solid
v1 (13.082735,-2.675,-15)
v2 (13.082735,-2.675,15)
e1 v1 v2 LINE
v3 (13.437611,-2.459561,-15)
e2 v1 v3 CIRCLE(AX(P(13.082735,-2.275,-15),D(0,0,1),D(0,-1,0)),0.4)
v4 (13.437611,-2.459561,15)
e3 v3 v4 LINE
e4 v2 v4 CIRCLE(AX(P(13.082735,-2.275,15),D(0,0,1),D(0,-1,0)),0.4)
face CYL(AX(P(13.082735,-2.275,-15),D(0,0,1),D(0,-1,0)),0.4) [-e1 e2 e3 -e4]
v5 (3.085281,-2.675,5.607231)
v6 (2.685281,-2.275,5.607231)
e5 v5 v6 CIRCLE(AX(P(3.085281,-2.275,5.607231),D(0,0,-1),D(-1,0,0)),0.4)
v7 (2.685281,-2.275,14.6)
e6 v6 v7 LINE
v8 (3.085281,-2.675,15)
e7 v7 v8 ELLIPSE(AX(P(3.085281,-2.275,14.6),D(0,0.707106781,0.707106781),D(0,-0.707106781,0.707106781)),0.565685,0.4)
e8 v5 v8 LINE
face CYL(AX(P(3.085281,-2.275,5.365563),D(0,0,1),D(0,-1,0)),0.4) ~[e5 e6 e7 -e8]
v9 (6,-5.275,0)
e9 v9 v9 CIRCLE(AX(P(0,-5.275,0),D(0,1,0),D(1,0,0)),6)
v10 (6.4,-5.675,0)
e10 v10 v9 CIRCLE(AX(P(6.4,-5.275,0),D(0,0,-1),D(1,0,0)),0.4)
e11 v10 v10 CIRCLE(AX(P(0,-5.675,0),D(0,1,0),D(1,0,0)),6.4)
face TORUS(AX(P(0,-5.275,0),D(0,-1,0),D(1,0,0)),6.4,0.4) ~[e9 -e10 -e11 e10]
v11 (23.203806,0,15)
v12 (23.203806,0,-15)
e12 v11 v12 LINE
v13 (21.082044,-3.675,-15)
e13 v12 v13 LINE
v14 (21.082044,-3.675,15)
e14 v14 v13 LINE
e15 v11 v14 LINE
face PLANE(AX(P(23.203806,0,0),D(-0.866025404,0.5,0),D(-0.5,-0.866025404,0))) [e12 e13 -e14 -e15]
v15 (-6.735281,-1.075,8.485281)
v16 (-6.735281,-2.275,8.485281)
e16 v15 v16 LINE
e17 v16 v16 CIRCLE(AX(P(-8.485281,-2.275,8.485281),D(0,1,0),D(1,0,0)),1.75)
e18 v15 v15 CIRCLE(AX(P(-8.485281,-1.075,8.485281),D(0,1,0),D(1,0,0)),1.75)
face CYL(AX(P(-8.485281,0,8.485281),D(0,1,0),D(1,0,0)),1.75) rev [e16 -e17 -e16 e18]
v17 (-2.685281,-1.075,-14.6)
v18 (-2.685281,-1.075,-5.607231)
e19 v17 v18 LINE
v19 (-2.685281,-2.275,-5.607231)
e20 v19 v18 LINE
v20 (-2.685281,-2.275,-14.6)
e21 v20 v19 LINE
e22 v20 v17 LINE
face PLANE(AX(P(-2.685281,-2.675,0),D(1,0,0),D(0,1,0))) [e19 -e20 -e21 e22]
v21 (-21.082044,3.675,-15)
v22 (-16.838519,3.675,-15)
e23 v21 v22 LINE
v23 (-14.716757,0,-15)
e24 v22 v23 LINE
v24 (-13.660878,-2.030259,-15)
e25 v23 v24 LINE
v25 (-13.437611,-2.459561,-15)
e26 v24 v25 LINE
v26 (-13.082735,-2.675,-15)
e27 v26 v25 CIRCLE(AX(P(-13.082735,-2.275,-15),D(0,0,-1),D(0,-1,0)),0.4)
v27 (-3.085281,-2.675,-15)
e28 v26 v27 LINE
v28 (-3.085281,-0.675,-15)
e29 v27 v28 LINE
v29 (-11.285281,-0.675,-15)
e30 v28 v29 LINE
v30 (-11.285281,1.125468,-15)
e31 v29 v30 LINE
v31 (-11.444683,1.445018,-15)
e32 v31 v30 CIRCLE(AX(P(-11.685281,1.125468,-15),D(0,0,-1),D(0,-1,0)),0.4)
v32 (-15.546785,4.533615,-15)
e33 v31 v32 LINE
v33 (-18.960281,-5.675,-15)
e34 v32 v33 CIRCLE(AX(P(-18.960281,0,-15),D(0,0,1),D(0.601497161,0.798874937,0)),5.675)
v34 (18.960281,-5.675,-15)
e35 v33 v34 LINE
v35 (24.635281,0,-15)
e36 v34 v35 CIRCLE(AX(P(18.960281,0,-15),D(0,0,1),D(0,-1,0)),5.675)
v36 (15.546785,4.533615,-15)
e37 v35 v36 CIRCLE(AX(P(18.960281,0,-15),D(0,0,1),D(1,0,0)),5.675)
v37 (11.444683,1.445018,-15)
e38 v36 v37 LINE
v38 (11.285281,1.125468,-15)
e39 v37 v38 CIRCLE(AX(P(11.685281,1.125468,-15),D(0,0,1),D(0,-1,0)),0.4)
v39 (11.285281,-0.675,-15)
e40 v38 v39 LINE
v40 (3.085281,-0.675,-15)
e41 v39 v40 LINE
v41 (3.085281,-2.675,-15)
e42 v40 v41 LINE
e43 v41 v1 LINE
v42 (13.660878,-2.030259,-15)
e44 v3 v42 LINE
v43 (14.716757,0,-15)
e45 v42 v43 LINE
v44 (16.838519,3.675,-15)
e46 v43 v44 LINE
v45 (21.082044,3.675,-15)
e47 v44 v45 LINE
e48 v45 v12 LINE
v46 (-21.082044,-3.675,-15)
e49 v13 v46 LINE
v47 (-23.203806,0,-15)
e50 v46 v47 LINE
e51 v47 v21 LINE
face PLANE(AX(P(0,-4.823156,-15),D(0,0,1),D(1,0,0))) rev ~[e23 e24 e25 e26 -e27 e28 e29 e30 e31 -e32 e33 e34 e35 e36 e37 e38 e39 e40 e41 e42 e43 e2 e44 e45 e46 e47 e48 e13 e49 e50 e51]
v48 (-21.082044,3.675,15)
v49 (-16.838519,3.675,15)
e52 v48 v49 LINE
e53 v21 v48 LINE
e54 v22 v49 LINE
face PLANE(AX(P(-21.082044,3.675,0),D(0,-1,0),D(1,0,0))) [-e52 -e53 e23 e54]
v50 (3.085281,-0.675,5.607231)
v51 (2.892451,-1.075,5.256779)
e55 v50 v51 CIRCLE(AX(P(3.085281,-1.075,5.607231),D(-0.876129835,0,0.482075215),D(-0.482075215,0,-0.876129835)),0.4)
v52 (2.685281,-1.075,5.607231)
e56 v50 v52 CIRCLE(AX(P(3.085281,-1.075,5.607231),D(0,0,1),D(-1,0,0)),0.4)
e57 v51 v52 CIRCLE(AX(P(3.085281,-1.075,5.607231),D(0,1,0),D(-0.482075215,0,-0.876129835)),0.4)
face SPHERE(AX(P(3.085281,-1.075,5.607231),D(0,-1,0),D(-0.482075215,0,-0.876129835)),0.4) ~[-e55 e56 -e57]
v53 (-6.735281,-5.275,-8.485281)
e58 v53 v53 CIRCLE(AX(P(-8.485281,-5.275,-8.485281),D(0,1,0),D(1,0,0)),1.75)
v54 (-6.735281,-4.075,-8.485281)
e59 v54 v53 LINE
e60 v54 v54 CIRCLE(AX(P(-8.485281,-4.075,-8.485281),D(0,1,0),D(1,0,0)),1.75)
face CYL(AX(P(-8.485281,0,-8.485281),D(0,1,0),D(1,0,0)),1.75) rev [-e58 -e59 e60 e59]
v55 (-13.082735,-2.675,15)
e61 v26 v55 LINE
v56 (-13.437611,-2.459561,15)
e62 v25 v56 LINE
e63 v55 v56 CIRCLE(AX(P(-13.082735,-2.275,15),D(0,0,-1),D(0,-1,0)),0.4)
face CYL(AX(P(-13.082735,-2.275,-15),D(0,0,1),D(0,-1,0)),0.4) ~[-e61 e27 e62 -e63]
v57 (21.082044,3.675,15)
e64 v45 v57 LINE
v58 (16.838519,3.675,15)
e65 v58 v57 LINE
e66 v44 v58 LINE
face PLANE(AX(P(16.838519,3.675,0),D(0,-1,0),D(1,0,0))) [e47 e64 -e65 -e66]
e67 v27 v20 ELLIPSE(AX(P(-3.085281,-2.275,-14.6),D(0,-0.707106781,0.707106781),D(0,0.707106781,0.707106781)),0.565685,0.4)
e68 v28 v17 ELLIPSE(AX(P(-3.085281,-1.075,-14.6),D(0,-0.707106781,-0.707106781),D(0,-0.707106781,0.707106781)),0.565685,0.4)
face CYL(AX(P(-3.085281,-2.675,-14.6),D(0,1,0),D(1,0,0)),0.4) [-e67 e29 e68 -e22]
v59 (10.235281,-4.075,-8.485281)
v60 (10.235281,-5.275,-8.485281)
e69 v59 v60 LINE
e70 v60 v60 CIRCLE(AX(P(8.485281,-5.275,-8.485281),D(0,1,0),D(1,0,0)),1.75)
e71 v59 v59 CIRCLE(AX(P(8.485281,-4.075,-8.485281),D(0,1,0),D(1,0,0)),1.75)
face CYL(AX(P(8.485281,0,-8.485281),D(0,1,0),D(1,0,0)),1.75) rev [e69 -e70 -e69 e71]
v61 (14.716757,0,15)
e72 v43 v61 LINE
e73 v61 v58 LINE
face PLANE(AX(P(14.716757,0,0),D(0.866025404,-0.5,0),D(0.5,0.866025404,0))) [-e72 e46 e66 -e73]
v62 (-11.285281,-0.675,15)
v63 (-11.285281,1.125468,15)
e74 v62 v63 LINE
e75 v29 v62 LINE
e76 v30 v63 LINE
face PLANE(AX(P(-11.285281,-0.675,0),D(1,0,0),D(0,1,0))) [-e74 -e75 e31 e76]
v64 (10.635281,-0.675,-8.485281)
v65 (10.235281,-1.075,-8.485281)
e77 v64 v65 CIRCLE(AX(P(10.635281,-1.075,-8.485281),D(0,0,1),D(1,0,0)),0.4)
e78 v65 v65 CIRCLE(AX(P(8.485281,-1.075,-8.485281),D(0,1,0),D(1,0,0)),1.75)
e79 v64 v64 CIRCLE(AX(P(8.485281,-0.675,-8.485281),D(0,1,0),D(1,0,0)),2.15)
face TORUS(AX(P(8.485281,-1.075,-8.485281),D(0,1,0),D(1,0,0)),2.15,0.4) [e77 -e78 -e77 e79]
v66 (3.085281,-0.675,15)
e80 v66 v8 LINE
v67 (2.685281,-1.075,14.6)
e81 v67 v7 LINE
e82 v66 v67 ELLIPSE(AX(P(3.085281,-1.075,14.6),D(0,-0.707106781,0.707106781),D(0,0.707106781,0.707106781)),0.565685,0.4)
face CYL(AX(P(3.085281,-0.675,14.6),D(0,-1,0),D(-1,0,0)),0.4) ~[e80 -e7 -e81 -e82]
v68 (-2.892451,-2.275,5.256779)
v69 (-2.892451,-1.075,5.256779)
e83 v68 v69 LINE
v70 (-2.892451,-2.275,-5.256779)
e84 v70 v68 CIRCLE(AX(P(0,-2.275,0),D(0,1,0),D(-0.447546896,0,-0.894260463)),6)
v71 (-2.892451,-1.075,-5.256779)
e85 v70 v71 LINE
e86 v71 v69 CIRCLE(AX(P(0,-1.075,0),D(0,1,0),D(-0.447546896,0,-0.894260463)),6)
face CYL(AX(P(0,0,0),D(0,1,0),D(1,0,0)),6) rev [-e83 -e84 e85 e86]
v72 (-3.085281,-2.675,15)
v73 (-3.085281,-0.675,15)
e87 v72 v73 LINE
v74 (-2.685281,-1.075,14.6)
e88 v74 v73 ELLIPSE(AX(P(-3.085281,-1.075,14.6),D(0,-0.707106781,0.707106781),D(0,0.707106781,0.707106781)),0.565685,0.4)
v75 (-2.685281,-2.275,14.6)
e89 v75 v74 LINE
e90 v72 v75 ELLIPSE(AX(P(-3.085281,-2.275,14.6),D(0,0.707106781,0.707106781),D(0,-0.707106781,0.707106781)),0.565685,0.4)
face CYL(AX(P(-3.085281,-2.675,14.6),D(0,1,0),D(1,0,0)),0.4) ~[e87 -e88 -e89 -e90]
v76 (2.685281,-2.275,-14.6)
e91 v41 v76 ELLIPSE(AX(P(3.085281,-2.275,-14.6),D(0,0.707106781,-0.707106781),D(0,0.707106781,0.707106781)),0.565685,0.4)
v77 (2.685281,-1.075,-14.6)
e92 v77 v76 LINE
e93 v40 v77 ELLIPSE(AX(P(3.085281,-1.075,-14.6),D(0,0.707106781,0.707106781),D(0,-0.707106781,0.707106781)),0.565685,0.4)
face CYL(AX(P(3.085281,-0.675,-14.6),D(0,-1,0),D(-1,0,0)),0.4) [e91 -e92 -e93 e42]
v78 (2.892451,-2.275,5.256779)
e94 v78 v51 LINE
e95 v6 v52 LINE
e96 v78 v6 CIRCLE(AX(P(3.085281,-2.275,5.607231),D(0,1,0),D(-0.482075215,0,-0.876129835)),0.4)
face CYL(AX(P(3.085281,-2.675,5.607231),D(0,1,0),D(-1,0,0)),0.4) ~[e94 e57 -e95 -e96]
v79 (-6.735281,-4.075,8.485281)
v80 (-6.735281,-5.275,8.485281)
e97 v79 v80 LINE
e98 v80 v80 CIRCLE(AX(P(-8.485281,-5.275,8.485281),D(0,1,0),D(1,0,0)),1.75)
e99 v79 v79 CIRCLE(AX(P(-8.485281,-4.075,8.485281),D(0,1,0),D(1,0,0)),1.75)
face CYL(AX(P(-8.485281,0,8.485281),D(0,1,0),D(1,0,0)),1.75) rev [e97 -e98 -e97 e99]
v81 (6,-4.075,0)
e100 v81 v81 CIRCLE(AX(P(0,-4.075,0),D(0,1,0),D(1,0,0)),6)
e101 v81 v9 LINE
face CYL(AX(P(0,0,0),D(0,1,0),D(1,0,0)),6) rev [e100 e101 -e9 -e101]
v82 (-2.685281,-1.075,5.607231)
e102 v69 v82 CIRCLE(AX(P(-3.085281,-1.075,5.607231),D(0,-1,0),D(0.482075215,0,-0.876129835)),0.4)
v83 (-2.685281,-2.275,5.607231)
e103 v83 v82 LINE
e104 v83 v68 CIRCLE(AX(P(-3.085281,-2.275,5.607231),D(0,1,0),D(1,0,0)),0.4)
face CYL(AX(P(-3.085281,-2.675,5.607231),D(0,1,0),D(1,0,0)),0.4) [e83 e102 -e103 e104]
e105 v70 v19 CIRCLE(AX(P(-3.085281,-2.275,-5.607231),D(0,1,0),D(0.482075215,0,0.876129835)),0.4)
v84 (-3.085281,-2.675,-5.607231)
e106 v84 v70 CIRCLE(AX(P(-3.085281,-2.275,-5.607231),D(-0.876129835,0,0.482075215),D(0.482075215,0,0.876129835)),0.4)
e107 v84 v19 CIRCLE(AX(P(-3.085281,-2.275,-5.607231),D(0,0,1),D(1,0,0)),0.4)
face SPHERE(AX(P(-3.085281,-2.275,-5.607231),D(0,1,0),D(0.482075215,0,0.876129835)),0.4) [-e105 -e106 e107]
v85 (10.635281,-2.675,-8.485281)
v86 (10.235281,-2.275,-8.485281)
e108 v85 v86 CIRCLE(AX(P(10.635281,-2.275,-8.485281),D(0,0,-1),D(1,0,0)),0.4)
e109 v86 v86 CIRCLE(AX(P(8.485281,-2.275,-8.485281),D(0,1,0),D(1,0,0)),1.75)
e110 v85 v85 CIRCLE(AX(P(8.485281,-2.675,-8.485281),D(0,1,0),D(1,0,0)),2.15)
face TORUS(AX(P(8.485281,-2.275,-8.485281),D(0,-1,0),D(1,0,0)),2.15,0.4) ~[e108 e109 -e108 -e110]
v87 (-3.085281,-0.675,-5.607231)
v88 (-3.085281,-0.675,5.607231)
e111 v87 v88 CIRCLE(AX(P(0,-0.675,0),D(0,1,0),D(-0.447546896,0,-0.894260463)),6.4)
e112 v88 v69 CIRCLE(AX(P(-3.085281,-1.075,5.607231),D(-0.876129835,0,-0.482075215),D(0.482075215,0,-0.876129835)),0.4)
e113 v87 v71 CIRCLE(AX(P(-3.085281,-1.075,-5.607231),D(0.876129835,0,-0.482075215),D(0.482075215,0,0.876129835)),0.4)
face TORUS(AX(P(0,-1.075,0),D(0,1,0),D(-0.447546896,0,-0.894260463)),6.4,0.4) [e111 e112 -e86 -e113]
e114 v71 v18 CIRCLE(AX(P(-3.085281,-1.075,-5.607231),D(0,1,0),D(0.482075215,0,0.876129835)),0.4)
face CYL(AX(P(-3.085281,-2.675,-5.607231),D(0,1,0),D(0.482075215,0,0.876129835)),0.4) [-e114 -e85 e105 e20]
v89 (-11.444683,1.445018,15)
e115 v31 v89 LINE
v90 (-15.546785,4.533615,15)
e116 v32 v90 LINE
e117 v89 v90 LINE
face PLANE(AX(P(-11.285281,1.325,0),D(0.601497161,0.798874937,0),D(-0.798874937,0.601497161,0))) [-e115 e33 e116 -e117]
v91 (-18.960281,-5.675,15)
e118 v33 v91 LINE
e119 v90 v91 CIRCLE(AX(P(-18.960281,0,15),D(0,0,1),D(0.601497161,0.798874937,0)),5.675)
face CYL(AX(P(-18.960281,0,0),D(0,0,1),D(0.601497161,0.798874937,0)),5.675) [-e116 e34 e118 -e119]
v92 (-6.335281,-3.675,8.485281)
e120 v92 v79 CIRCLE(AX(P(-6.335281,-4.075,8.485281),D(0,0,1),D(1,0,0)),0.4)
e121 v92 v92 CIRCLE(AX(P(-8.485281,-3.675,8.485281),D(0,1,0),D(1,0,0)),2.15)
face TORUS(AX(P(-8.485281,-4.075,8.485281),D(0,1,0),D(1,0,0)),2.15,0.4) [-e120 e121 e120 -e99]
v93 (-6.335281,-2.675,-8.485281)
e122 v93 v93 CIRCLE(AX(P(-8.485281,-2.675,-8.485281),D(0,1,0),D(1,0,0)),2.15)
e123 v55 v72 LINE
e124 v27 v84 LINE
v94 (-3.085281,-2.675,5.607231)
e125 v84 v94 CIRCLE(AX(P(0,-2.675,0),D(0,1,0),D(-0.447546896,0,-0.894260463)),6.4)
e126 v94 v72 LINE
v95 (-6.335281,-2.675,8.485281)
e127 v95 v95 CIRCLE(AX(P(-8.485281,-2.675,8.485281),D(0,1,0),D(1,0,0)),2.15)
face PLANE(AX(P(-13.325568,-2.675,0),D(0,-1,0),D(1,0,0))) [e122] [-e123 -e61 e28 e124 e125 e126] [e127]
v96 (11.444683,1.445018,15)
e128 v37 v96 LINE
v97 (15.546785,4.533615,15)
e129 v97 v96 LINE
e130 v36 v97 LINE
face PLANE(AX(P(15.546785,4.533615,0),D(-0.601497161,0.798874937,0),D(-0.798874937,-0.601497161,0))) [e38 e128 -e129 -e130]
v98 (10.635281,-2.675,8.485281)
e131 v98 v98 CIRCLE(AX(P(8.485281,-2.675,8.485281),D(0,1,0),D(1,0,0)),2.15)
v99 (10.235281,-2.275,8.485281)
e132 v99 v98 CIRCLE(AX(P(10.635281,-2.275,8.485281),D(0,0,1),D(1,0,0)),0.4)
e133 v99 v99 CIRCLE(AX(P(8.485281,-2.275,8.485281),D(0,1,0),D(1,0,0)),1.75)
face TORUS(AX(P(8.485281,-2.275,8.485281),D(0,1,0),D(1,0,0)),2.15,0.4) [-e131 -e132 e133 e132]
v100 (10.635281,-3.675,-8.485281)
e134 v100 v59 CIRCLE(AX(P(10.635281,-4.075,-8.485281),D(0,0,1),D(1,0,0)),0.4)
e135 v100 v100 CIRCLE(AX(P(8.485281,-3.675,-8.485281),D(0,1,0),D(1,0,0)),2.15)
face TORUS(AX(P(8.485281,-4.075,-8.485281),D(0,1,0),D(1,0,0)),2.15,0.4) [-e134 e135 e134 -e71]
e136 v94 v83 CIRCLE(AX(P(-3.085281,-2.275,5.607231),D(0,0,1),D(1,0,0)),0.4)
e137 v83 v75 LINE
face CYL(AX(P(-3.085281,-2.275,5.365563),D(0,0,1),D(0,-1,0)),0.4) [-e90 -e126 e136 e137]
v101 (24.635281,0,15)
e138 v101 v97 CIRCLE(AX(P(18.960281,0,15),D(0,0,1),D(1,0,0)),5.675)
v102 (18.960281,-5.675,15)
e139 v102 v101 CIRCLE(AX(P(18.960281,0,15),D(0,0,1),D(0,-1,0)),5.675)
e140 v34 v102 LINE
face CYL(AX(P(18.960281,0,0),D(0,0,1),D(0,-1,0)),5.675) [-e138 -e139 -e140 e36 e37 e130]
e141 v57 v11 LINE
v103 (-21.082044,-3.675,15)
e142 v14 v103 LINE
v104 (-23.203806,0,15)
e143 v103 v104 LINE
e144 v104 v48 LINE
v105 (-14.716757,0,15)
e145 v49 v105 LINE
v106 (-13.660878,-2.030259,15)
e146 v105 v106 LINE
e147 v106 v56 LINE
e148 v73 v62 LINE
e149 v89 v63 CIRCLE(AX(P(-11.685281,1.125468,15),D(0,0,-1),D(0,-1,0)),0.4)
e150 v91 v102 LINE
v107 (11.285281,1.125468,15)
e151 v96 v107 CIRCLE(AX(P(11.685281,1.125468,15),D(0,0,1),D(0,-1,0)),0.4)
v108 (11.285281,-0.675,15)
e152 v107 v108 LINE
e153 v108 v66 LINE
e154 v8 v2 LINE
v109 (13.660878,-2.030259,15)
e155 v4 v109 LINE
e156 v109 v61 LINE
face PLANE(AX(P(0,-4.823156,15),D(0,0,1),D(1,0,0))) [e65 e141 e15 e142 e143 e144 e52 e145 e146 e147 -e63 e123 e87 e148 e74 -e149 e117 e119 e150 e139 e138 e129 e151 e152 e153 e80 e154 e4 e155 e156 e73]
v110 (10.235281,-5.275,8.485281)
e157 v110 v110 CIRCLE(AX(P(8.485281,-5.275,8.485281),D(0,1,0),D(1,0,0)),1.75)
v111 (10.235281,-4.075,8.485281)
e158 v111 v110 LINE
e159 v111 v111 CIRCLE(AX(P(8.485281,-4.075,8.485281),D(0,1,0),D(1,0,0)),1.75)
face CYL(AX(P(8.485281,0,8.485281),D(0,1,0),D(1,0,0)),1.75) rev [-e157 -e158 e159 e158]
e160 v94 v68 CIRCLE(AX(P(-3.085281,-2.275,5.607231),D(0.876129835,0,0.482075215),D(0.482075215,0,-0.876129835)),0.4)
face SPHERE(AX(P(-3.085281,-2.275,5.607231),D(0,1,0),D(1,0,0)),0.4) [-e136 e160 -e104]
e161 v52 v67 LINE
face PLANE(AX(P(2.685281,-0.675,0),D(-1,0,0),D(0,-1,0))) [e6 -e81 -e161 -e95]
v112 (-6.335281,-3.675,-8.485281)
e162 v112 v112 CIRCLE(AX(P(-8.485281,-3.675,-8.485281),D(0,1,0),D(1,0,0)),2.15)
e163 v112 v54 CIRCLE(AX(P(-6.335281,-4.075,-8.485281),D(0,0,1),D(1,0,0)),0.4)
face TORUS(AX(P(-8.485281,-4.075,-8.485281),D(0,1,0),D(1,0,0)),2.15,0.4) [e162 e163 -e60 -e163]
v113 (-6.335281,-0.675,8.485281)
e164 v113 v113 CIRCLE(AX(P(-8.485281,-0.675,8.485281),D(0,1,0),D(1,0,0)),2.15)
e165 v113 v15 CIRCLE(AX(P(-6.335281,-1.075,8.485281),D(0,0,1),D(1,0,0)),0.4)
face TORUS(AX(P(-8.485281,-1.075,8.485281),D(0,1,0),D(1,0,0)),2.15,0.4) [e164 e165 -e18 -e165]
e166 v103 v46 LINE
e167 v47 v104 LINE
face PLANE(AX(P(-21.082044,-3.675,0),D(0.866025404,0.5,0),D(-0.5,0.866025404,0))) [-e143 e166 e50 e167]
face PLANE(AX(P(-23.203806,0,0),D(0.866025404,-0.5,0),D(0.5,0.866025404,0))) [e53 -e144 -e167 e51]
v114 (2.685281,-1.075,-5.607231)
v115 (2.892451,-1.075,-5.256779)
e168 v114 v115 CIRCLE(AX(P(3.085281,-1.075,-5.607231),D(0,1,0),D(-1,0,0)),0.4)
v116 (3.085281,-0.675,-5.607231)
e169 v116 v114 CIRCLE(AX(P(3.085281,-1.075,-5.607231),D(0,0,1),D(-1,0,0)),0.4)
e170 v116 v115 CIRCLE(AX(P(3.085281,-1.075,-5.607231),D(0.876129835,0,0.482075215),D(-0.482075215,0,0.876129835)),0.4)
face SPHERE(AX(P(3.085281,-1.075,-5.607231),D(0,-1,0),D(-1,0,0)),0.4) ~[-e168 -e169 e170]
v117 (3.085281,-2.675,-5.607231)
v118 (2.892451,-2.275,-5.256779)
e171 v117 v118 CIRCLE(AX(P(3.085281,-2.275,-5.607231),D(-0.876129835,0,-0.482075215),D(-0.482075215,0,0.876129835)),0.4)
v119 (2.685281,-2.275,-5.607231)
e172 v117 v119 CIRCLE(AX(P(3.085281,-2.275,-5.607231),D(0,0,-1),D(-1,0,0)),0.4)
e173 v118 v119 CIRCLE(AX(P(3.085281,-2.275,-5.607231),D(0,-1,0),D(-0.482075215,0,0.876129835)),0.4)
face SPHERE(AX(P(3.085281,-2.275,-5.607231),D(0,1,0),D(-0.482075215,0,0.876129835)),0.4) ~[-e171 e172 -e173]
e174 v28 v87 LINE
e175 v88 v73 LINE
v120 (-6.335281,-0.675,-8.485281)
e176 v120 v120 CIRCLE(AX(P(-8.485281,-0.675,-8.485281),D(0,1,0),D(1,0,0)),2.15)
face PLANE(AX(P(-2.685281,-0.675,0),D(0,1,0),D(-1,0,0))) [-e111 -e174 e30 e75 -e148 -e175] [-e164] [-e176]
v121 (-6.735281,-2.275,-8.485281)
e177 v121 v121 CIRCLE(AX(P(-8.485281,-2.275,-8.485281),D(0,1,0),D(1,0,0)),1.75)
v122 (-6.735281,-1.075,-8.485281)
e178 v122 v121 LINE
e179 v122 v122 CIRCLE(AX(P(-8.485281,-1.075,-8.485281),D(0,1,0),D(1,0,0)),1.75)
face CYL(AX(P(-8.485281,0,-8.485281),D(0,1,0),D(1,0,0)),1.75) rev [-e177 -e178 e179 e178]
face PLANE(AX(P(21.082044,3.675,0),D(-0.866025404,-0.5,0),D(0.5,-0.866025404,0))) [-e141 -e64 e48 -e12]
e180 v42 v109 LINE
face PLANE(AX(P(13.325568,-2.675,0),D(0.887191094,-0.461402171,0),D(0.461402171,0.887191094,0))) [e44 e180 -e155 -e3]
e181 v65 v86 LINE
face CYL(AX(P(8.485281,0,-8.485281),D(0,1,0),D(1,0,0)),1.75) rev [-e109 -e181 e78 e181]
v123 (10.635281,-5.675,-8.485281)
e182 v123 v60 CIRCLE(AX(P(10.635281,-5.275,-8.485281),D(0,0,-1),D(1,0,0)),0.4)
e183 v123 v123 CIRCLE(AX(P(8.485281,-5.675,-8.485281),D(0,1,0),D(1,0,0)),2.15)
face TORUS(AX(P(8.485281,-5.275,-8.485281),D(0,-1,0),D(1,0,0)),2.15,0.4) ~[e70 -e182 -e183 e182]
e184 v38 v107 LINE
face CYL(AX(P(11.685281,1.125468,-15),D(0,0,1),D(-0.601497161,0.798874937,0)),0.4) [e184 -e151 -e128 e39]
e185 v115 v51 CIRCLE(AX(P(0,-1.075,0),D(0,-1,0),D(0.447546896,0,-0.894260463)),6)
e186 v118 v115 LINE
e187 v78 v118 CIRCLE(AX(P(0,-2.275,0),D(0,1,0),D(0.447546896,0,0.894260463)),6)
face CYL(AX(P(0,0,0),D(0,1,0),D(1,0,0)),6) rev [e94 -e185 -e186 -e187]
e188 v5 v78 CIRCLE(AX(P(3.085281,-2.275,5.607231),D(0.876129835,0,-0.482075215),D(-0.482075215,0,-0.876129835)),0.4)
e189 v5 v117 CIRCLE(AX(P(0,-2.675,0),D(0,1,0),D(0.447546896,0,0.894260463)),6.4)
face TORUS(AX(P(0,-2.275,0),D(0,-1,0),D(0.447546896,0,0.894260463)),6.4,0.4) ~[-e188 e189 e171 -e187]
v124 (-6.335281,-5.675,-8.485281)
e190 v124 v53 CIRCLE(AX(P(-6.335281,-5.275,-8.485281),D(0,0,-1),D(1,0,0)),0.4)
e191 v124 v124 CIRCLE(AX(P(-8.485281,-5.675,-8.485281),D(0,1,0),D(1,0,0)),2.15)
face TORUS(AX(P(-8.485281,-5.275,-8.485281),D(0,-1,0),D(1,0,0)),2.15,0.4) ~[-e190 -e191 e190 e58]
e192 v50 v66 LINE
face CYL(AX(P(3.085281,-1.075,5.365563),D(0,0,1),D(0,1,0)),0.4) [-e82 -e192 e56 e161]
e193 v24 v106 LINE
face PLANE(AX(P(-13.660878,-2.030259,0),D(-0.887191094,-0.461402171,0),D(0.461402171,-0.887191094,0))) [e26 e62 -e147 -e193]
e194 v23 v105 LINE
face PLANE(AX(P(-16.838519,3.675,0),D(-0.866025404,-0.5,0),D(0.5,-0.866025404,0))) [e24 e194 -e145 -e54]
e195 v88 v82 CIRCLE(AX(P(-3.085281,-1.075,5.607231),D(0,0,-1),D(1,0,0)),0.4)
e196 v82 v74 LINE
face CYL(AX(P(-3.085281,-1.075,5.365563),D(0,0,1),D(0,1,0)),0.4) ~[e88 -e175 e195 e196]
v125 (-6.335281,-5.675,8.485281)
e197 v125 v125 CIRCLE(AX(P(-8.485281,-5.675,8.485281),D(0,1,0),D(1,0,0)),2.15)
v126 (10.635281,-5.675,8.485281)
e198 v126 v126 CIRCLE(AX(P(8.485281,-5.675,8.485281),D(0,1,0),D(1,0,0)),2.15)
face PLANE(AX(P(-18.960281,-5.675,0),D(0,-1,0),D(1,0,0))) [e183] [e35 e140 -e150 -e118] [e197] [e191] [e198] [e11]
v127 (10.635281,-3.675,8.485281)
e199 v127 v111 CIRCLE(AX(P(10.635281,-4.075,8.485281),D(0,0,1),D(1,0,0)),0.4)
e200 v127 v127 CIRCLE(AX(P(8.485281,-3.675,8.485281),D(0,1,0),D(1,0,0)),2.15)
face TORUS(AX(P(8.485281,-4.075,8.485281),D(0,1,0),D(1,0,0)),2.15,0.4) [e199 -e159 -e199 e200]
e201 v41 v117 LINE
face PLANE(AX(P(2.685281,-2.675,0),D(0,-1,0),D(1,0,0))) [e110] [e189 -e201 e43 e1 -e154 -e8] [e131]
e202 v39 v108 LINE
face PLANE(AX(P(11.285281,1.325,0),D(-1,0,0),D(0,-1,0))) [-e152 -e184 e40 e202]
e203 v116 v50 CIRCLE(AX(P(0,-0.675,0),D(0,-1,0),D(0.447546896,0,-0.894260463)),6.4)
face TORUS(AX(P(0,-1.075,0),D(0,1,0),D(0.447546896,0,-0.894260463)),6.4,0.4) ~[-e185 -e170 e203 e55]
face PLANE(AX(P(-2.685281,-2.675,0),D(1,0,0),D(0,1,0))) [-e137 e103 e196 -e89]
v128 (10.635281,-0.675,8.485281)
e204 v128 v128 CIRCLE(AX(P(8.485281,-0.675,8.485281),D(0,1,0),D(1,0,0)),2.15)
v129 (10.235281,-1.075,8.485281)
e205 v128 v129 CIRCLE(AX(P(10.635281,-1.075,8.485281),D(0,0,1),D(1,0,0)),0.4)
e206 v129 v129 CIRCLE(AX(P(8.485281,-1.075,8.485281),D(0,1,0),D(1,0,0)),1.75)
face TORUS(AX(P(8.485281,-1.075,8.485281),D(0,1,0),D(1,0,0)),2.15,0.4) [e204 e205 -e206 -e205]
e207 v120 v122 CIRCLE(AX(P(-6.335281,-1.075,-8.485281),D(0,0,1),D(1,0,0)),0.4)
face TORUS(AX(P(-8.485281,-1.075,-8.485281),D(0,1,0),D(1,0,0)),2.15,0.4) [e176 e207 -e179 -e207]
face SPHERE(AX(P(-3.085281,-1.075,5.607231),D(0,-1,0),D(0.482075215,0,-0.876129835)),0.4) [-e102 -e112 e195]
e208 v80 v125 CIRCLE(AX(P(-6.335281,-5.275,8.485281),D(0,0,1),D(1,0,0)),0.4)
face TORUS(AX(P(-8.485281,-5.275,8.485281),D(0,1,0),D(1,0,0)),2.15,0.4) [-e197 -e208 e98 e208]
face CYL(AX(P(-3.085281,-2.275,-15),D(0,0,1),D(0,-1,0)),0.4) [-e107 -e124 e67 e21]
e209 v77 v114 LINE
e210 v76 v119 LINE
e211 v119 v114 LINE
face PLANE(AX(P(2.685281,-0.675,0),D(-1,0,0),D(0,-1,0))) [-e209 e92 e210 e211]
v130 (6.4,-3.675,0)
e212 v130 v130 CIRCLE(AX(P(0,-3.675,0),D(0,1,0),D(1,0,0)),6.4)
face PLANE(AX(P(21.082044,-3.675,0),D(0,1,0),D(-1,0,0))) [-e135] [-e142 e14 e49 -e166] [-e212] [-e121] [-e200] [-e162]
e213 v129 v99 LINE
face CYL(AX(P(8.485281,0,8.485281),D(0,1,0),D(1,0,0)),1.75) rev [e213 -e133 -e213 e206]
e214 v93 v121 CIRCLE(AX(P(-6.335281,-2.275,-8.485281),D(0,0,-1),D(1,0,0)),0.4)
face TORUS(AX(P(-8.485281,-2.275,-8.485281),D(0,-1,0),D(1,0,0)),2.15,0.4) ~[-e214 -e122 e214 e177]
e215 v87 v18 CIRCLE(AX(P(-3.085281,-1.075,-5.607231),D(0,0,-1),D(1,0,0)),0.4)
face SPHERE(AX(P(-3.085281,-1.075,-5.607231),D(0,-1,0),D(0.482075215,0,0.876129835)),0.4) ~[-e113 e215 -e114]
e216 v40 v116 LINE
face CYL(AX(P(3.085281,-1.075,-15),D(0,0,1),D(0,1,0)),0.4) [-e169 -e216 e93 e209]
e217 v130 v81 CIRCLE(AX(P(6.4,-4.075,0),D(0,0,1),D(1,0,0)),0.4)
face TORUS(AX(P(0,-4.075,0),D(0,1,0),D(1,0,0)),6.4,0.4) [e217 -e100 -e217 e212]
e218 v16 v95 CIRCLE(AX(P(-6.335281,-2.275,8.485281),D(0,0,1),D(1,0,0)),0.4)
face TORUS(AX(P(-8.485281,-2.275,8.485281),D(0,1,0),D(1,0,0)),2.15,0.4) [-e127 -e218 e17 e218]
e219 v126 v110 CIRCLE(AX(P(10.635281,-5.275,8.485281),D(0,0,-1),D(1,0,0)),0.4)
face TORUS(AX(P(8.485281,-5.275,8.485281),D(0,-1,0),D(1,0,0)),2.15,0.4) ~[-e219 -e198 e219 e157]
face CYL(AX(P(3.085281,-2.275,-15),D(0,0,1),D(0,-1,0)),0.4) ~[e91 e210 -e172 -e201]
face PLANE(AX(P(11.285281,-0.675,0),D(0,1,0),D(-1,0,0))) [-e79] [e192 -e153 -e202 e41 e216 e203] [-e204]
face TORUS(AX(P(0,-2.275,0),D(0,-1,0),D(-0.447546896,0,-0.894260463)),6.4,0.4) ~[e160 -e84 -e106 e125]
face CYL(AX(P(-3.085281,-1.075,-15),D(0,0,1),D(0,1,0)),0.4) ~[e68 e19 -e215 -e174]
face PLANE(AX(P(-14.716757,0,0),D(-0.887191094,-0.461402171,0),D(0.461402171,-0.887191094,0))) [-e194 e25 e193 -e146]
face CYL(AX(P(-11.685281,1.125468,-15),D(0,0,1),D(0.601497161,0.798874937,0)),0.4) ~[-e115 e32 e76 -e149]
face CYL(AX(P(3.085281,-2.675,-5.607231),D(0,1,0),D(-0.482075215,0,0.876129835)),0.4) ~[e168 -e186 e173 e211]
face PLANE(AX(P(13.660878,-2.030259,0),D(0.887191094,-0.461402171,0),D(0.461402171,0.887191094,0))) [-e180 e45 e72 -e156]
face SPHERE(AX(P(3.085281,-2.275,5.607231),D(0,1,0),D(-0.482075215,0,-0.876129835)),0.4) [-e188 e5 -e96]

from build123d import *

# Parameters (mm, degrees)
F2_DEPTH = 15
F0_R     = 1.75
F0_R_2   = 6
F3_DEPTH = 5.676
F4_R     = 0.4


with BuildPart() as f2:
    # F1 (on Top) → F2 (new body, symmetric)
    with BuildSketch(Plane.XY):
        with BuildLine():
            Line((14.6359317122, -3.675), (-14.6359317122, -3.675))
            ThreePointArc((-14.6359317122, -3.675), (-16.5780555243, -5.1507887745), (-18.9602813742, -5.675))
            Line((-18.9602813742, -5.675), (18.9602813742, -5.675))
            ThreePointArc((18.9602813742, -5.675), (16.5780555243, -5.1507887745), (14.6359317122, -3.675))
        make_face()
        with BuildLine():
            Line((-14.6359317122, -3.675), (-16.838519135, -3.675))
            Line((-16.838519135, -3.675), (-21.0820436135, -3.675))
            Line((-21.0820436135, -3.675), (-23.2038058528, 0))
            Line((-23.2038058528, 0), (-21.0820436135, 3.675))
            Line((-21.0820436135, 3.675), (-16.838519135, 3.675))
            Line((-16.838519135, 3.675), (-14.7167568957, 0))
            Line((-14.7167568957, 0), (-13.66087836, -2.0302592673))
            ThreePointArc((-13.66087836, -2.0302592673), (-13.4513876797, -1.3629802869), (-13.3255675394, -0.675))
            ThreePointArc((-13.3255675394, -0.675), (-13.2953618685, -0.3381005675), (-13.2852813742, 0))
            ThreePointArc((-13.2852813742, 0), (-13.8820328084, 2.5331830773), (-15.5467849877, 4.5336152703))
            ThreePointArc((-15.5467849877, 4.5336152703), (-24.3423763037, 1.7996330655), (-18.9602813742, -5.675))
            ThreePointArc((-18.9602813742, -5.675), (-16.5780555243, -5.1507887745), (-14.6359317122, -3.675))
        make_face()
        with BuildLine():
            ThreePointArc((-13.3255675394, -0.675), (-13.4513876797, -1.3629802869), (-13.66087836, -2.0302592673))
            Line((-13.66087836, -2.0302592673), (-13.3255675394, -2.675))
            Line((-13.3255675394, -2.675), (-2.6852813742, -2.675))
            Line((-2.6852813742, -2.675), (-2.6852813742, -0.675))
            Line((-2.6852813742, -0.675), (-11.2852813742, -0.675))
            Line((-11.2852813742, -0.675), (-13.3255675394, -0.675))
        make_face()
        with BuildLine():
            ThreePointArc((-13.2852813742, 0), (-13.2953618685, -0.3381005675), (-13.3255675394, -0.675))
            Line((-13.3255675394, -0.675), (-11.2852813742, -0.675))
            Line((-11.2852813742, -0.675), (-11.2852813742, 1.325))
            Line((-11.2852813742, 1.325), (-15.5467849877, 4.5336152703))
            ThreePointArc((-15.5467849877, 4.5336152703), (-13.8820328084, 2.5331830773), (-13.2852813742, 0))
        make_face()
        with BuildLine():
            Line((16.838519135, -3.675), (14.6359317122, -3.675))
            ThreePointArc((14.6359317122, -3.675), (16.5780555243, -5.1507887745), (18.9602813742, -5.675))
            ThreePointArc((18.9602813742, -5.675), (22.9731123575, -4.0128309832), (24.6352813742, 0))
            ThreePointArc((24.6352813742, 0), (21.4934644515, 5.0782485659), (15.5467849877, 4.5336152703))
            ThreePointArc((15.5467849877, 4.5336152703), (13.7401333581, 2.2261355954), (13.3255675394, -0.675))
            ThreePointArc((13.3255675394, -0.675), (13.4513876797, -1.3629802869), (13.66087836, -2.0302592673))
            Line((13.66087836, -2.0302592673), (14.7167568957, 0))
            Line((14.7167568957, 0), (16.838519135, 3.675))
            Line((16.838519135, 3.675), (21.0820436135, 3.675))
            Line((21.0820436135, 3.675), (23.2038058528, 0))
            Line((23.2038058528, 0), (21.0820436135, -3.675))
            Line((21.0820436135, -3.675), (16.838519135, -3.675))
        make_face()
        with BuildLine():
            Line((11.2852813742, -0.675), (13.3255675394, -0.675))
            ThreePointArc((13.3255675394, -0.675), (13.7401333581, 2.2261355954), (15.5467849877, 4.5336152703))
            Line((15.5467849877, 4.5336152703), (11.2852813742, 1.325))
            Line((11.2852813742, 1.325), (11.2852813742, -0.675))
        make_face()
        with BuildLine():
            Line((13.3255675394, -2.675), (13.66087836, -2.0302592673))
            ThreePointArc((13.66087836, -2.0302592673), (13.4513876797, -1.3629802869), (13.3255675394, -0.675))
            Line((13.3255675394, -0.675), (11.2852813742, -0.675))
            Line((11.2852813742, -0.675), (2.6852813742, -0.675))
            Line((2.6852813742, -0.675), (2.6852813742, -2.675))
            Line((2.6852813742, -2.675), (13.3255675394, -2.675))
        make_face()
    extrude(amount=F2_DEPTH, both=True)

    # F0 (on Front) → F3 (cut, through all)
    with BuildSketch(Plane.XZ):
        with Locations((-8.4852813742, -8.4852813742)):
            Circle(F0_R)
        with Locations((-8.4852813742, 8.4852813742)):
            Circle(F0_R)
        with Locations((8.4852813742, -8.4852813742)):
            Circle(F0_R)
        with Locations((8.4852813742, 8.4852813742)):
            Circle(F0_R)
        Circle(F0_R_2)
    extrude(amount=F3_DEPTH, mode=Mode.SUBTRACT)

    # F4
    f4_edges = [f2.edges().sort_by_distance(p)[0] for p in [
        (-13.325568, -2.675, 0),
        (13.325568, -2.675, 0),
        (11.285281, 1.325, 0),
        (-11.285281, 1.325, 0),
        (-2.685281, -1.675, -5.365563),
        (-6, -2.675, 0),
        (-2.685281, -1.675, 5.365563),
        (-6, -0.675, 0),
        (-2.685281, -2.675, 10.182781),
        (-2.685281, -1.675, 15),
        (-2.685281, -0.675, 10.182781),
        (-2.685281, -2.675, -10.182781),
        (-2.685281, -0.675, -10.182781),
        (-2.685281, -1.675, -15),
        (2.685281, -0.675, 10.182781),
        (2.685281, -1.675, 15),
        (2.685281, -2.675, 10.182781),
        (2.685281, -1.675, 5.365563),
        (6, -0.675, 0),
        (2.685281, -1.675, -5.365563),
        (6, -2.675, 0),
        (2.685281, -0.675, -10.182781),
        (2.685281, -2.675, -10.182781),
        (2.685281, -1.675, -15),
        (-6, -3.675, 0),
        (6, -4.675, 0),
        (-6, -5.675, 0),
        (-10.235281, -3.675, 8.485281),
        (-6.735281, -4.675, 8.485281),
        (-10.235281, -5.675, 8.485281),
        (-10.235281, -0.675, 8.485281),
        (-6.735281, -1.675, 8.485281),
        (-10.235281, -2.675, 8.485281),
        (-10.235281, -3.675, -8.485281),
        (-6.735281, -4.675, -8.485281),
        (-10.235281, -5.675, -8.485281),
        (-10.235281, -0.675, -8.485281),
        (-6.735281, -1.675, -8.485281),
        (-10.235281, -2.675, -8.485281),
        (6.735281, -3.675, -8.485281),
        (10.235281, -4.675, -8.485281),
        (6.735281, -5.675, -8.485281),
        (6.735281, -0.675, -8.485281),
        (10.235281, -1.675, -8.485281),
        (6.735281, -2.675, -8.485281),
        (6.735281, -3.675, 8.485281),
        (10.235281, -4.675, 8.485281),
        (6.735281, -5.675, 8.485281),
        (6.735281, -0.675, 8.485281),
        (10.235281, -1.675, 8.485281),
        (6.735281, -2.675, 8.485281),
    ]]
    fillet(f4_edges, radius=F4_R)


solid = f2.part
